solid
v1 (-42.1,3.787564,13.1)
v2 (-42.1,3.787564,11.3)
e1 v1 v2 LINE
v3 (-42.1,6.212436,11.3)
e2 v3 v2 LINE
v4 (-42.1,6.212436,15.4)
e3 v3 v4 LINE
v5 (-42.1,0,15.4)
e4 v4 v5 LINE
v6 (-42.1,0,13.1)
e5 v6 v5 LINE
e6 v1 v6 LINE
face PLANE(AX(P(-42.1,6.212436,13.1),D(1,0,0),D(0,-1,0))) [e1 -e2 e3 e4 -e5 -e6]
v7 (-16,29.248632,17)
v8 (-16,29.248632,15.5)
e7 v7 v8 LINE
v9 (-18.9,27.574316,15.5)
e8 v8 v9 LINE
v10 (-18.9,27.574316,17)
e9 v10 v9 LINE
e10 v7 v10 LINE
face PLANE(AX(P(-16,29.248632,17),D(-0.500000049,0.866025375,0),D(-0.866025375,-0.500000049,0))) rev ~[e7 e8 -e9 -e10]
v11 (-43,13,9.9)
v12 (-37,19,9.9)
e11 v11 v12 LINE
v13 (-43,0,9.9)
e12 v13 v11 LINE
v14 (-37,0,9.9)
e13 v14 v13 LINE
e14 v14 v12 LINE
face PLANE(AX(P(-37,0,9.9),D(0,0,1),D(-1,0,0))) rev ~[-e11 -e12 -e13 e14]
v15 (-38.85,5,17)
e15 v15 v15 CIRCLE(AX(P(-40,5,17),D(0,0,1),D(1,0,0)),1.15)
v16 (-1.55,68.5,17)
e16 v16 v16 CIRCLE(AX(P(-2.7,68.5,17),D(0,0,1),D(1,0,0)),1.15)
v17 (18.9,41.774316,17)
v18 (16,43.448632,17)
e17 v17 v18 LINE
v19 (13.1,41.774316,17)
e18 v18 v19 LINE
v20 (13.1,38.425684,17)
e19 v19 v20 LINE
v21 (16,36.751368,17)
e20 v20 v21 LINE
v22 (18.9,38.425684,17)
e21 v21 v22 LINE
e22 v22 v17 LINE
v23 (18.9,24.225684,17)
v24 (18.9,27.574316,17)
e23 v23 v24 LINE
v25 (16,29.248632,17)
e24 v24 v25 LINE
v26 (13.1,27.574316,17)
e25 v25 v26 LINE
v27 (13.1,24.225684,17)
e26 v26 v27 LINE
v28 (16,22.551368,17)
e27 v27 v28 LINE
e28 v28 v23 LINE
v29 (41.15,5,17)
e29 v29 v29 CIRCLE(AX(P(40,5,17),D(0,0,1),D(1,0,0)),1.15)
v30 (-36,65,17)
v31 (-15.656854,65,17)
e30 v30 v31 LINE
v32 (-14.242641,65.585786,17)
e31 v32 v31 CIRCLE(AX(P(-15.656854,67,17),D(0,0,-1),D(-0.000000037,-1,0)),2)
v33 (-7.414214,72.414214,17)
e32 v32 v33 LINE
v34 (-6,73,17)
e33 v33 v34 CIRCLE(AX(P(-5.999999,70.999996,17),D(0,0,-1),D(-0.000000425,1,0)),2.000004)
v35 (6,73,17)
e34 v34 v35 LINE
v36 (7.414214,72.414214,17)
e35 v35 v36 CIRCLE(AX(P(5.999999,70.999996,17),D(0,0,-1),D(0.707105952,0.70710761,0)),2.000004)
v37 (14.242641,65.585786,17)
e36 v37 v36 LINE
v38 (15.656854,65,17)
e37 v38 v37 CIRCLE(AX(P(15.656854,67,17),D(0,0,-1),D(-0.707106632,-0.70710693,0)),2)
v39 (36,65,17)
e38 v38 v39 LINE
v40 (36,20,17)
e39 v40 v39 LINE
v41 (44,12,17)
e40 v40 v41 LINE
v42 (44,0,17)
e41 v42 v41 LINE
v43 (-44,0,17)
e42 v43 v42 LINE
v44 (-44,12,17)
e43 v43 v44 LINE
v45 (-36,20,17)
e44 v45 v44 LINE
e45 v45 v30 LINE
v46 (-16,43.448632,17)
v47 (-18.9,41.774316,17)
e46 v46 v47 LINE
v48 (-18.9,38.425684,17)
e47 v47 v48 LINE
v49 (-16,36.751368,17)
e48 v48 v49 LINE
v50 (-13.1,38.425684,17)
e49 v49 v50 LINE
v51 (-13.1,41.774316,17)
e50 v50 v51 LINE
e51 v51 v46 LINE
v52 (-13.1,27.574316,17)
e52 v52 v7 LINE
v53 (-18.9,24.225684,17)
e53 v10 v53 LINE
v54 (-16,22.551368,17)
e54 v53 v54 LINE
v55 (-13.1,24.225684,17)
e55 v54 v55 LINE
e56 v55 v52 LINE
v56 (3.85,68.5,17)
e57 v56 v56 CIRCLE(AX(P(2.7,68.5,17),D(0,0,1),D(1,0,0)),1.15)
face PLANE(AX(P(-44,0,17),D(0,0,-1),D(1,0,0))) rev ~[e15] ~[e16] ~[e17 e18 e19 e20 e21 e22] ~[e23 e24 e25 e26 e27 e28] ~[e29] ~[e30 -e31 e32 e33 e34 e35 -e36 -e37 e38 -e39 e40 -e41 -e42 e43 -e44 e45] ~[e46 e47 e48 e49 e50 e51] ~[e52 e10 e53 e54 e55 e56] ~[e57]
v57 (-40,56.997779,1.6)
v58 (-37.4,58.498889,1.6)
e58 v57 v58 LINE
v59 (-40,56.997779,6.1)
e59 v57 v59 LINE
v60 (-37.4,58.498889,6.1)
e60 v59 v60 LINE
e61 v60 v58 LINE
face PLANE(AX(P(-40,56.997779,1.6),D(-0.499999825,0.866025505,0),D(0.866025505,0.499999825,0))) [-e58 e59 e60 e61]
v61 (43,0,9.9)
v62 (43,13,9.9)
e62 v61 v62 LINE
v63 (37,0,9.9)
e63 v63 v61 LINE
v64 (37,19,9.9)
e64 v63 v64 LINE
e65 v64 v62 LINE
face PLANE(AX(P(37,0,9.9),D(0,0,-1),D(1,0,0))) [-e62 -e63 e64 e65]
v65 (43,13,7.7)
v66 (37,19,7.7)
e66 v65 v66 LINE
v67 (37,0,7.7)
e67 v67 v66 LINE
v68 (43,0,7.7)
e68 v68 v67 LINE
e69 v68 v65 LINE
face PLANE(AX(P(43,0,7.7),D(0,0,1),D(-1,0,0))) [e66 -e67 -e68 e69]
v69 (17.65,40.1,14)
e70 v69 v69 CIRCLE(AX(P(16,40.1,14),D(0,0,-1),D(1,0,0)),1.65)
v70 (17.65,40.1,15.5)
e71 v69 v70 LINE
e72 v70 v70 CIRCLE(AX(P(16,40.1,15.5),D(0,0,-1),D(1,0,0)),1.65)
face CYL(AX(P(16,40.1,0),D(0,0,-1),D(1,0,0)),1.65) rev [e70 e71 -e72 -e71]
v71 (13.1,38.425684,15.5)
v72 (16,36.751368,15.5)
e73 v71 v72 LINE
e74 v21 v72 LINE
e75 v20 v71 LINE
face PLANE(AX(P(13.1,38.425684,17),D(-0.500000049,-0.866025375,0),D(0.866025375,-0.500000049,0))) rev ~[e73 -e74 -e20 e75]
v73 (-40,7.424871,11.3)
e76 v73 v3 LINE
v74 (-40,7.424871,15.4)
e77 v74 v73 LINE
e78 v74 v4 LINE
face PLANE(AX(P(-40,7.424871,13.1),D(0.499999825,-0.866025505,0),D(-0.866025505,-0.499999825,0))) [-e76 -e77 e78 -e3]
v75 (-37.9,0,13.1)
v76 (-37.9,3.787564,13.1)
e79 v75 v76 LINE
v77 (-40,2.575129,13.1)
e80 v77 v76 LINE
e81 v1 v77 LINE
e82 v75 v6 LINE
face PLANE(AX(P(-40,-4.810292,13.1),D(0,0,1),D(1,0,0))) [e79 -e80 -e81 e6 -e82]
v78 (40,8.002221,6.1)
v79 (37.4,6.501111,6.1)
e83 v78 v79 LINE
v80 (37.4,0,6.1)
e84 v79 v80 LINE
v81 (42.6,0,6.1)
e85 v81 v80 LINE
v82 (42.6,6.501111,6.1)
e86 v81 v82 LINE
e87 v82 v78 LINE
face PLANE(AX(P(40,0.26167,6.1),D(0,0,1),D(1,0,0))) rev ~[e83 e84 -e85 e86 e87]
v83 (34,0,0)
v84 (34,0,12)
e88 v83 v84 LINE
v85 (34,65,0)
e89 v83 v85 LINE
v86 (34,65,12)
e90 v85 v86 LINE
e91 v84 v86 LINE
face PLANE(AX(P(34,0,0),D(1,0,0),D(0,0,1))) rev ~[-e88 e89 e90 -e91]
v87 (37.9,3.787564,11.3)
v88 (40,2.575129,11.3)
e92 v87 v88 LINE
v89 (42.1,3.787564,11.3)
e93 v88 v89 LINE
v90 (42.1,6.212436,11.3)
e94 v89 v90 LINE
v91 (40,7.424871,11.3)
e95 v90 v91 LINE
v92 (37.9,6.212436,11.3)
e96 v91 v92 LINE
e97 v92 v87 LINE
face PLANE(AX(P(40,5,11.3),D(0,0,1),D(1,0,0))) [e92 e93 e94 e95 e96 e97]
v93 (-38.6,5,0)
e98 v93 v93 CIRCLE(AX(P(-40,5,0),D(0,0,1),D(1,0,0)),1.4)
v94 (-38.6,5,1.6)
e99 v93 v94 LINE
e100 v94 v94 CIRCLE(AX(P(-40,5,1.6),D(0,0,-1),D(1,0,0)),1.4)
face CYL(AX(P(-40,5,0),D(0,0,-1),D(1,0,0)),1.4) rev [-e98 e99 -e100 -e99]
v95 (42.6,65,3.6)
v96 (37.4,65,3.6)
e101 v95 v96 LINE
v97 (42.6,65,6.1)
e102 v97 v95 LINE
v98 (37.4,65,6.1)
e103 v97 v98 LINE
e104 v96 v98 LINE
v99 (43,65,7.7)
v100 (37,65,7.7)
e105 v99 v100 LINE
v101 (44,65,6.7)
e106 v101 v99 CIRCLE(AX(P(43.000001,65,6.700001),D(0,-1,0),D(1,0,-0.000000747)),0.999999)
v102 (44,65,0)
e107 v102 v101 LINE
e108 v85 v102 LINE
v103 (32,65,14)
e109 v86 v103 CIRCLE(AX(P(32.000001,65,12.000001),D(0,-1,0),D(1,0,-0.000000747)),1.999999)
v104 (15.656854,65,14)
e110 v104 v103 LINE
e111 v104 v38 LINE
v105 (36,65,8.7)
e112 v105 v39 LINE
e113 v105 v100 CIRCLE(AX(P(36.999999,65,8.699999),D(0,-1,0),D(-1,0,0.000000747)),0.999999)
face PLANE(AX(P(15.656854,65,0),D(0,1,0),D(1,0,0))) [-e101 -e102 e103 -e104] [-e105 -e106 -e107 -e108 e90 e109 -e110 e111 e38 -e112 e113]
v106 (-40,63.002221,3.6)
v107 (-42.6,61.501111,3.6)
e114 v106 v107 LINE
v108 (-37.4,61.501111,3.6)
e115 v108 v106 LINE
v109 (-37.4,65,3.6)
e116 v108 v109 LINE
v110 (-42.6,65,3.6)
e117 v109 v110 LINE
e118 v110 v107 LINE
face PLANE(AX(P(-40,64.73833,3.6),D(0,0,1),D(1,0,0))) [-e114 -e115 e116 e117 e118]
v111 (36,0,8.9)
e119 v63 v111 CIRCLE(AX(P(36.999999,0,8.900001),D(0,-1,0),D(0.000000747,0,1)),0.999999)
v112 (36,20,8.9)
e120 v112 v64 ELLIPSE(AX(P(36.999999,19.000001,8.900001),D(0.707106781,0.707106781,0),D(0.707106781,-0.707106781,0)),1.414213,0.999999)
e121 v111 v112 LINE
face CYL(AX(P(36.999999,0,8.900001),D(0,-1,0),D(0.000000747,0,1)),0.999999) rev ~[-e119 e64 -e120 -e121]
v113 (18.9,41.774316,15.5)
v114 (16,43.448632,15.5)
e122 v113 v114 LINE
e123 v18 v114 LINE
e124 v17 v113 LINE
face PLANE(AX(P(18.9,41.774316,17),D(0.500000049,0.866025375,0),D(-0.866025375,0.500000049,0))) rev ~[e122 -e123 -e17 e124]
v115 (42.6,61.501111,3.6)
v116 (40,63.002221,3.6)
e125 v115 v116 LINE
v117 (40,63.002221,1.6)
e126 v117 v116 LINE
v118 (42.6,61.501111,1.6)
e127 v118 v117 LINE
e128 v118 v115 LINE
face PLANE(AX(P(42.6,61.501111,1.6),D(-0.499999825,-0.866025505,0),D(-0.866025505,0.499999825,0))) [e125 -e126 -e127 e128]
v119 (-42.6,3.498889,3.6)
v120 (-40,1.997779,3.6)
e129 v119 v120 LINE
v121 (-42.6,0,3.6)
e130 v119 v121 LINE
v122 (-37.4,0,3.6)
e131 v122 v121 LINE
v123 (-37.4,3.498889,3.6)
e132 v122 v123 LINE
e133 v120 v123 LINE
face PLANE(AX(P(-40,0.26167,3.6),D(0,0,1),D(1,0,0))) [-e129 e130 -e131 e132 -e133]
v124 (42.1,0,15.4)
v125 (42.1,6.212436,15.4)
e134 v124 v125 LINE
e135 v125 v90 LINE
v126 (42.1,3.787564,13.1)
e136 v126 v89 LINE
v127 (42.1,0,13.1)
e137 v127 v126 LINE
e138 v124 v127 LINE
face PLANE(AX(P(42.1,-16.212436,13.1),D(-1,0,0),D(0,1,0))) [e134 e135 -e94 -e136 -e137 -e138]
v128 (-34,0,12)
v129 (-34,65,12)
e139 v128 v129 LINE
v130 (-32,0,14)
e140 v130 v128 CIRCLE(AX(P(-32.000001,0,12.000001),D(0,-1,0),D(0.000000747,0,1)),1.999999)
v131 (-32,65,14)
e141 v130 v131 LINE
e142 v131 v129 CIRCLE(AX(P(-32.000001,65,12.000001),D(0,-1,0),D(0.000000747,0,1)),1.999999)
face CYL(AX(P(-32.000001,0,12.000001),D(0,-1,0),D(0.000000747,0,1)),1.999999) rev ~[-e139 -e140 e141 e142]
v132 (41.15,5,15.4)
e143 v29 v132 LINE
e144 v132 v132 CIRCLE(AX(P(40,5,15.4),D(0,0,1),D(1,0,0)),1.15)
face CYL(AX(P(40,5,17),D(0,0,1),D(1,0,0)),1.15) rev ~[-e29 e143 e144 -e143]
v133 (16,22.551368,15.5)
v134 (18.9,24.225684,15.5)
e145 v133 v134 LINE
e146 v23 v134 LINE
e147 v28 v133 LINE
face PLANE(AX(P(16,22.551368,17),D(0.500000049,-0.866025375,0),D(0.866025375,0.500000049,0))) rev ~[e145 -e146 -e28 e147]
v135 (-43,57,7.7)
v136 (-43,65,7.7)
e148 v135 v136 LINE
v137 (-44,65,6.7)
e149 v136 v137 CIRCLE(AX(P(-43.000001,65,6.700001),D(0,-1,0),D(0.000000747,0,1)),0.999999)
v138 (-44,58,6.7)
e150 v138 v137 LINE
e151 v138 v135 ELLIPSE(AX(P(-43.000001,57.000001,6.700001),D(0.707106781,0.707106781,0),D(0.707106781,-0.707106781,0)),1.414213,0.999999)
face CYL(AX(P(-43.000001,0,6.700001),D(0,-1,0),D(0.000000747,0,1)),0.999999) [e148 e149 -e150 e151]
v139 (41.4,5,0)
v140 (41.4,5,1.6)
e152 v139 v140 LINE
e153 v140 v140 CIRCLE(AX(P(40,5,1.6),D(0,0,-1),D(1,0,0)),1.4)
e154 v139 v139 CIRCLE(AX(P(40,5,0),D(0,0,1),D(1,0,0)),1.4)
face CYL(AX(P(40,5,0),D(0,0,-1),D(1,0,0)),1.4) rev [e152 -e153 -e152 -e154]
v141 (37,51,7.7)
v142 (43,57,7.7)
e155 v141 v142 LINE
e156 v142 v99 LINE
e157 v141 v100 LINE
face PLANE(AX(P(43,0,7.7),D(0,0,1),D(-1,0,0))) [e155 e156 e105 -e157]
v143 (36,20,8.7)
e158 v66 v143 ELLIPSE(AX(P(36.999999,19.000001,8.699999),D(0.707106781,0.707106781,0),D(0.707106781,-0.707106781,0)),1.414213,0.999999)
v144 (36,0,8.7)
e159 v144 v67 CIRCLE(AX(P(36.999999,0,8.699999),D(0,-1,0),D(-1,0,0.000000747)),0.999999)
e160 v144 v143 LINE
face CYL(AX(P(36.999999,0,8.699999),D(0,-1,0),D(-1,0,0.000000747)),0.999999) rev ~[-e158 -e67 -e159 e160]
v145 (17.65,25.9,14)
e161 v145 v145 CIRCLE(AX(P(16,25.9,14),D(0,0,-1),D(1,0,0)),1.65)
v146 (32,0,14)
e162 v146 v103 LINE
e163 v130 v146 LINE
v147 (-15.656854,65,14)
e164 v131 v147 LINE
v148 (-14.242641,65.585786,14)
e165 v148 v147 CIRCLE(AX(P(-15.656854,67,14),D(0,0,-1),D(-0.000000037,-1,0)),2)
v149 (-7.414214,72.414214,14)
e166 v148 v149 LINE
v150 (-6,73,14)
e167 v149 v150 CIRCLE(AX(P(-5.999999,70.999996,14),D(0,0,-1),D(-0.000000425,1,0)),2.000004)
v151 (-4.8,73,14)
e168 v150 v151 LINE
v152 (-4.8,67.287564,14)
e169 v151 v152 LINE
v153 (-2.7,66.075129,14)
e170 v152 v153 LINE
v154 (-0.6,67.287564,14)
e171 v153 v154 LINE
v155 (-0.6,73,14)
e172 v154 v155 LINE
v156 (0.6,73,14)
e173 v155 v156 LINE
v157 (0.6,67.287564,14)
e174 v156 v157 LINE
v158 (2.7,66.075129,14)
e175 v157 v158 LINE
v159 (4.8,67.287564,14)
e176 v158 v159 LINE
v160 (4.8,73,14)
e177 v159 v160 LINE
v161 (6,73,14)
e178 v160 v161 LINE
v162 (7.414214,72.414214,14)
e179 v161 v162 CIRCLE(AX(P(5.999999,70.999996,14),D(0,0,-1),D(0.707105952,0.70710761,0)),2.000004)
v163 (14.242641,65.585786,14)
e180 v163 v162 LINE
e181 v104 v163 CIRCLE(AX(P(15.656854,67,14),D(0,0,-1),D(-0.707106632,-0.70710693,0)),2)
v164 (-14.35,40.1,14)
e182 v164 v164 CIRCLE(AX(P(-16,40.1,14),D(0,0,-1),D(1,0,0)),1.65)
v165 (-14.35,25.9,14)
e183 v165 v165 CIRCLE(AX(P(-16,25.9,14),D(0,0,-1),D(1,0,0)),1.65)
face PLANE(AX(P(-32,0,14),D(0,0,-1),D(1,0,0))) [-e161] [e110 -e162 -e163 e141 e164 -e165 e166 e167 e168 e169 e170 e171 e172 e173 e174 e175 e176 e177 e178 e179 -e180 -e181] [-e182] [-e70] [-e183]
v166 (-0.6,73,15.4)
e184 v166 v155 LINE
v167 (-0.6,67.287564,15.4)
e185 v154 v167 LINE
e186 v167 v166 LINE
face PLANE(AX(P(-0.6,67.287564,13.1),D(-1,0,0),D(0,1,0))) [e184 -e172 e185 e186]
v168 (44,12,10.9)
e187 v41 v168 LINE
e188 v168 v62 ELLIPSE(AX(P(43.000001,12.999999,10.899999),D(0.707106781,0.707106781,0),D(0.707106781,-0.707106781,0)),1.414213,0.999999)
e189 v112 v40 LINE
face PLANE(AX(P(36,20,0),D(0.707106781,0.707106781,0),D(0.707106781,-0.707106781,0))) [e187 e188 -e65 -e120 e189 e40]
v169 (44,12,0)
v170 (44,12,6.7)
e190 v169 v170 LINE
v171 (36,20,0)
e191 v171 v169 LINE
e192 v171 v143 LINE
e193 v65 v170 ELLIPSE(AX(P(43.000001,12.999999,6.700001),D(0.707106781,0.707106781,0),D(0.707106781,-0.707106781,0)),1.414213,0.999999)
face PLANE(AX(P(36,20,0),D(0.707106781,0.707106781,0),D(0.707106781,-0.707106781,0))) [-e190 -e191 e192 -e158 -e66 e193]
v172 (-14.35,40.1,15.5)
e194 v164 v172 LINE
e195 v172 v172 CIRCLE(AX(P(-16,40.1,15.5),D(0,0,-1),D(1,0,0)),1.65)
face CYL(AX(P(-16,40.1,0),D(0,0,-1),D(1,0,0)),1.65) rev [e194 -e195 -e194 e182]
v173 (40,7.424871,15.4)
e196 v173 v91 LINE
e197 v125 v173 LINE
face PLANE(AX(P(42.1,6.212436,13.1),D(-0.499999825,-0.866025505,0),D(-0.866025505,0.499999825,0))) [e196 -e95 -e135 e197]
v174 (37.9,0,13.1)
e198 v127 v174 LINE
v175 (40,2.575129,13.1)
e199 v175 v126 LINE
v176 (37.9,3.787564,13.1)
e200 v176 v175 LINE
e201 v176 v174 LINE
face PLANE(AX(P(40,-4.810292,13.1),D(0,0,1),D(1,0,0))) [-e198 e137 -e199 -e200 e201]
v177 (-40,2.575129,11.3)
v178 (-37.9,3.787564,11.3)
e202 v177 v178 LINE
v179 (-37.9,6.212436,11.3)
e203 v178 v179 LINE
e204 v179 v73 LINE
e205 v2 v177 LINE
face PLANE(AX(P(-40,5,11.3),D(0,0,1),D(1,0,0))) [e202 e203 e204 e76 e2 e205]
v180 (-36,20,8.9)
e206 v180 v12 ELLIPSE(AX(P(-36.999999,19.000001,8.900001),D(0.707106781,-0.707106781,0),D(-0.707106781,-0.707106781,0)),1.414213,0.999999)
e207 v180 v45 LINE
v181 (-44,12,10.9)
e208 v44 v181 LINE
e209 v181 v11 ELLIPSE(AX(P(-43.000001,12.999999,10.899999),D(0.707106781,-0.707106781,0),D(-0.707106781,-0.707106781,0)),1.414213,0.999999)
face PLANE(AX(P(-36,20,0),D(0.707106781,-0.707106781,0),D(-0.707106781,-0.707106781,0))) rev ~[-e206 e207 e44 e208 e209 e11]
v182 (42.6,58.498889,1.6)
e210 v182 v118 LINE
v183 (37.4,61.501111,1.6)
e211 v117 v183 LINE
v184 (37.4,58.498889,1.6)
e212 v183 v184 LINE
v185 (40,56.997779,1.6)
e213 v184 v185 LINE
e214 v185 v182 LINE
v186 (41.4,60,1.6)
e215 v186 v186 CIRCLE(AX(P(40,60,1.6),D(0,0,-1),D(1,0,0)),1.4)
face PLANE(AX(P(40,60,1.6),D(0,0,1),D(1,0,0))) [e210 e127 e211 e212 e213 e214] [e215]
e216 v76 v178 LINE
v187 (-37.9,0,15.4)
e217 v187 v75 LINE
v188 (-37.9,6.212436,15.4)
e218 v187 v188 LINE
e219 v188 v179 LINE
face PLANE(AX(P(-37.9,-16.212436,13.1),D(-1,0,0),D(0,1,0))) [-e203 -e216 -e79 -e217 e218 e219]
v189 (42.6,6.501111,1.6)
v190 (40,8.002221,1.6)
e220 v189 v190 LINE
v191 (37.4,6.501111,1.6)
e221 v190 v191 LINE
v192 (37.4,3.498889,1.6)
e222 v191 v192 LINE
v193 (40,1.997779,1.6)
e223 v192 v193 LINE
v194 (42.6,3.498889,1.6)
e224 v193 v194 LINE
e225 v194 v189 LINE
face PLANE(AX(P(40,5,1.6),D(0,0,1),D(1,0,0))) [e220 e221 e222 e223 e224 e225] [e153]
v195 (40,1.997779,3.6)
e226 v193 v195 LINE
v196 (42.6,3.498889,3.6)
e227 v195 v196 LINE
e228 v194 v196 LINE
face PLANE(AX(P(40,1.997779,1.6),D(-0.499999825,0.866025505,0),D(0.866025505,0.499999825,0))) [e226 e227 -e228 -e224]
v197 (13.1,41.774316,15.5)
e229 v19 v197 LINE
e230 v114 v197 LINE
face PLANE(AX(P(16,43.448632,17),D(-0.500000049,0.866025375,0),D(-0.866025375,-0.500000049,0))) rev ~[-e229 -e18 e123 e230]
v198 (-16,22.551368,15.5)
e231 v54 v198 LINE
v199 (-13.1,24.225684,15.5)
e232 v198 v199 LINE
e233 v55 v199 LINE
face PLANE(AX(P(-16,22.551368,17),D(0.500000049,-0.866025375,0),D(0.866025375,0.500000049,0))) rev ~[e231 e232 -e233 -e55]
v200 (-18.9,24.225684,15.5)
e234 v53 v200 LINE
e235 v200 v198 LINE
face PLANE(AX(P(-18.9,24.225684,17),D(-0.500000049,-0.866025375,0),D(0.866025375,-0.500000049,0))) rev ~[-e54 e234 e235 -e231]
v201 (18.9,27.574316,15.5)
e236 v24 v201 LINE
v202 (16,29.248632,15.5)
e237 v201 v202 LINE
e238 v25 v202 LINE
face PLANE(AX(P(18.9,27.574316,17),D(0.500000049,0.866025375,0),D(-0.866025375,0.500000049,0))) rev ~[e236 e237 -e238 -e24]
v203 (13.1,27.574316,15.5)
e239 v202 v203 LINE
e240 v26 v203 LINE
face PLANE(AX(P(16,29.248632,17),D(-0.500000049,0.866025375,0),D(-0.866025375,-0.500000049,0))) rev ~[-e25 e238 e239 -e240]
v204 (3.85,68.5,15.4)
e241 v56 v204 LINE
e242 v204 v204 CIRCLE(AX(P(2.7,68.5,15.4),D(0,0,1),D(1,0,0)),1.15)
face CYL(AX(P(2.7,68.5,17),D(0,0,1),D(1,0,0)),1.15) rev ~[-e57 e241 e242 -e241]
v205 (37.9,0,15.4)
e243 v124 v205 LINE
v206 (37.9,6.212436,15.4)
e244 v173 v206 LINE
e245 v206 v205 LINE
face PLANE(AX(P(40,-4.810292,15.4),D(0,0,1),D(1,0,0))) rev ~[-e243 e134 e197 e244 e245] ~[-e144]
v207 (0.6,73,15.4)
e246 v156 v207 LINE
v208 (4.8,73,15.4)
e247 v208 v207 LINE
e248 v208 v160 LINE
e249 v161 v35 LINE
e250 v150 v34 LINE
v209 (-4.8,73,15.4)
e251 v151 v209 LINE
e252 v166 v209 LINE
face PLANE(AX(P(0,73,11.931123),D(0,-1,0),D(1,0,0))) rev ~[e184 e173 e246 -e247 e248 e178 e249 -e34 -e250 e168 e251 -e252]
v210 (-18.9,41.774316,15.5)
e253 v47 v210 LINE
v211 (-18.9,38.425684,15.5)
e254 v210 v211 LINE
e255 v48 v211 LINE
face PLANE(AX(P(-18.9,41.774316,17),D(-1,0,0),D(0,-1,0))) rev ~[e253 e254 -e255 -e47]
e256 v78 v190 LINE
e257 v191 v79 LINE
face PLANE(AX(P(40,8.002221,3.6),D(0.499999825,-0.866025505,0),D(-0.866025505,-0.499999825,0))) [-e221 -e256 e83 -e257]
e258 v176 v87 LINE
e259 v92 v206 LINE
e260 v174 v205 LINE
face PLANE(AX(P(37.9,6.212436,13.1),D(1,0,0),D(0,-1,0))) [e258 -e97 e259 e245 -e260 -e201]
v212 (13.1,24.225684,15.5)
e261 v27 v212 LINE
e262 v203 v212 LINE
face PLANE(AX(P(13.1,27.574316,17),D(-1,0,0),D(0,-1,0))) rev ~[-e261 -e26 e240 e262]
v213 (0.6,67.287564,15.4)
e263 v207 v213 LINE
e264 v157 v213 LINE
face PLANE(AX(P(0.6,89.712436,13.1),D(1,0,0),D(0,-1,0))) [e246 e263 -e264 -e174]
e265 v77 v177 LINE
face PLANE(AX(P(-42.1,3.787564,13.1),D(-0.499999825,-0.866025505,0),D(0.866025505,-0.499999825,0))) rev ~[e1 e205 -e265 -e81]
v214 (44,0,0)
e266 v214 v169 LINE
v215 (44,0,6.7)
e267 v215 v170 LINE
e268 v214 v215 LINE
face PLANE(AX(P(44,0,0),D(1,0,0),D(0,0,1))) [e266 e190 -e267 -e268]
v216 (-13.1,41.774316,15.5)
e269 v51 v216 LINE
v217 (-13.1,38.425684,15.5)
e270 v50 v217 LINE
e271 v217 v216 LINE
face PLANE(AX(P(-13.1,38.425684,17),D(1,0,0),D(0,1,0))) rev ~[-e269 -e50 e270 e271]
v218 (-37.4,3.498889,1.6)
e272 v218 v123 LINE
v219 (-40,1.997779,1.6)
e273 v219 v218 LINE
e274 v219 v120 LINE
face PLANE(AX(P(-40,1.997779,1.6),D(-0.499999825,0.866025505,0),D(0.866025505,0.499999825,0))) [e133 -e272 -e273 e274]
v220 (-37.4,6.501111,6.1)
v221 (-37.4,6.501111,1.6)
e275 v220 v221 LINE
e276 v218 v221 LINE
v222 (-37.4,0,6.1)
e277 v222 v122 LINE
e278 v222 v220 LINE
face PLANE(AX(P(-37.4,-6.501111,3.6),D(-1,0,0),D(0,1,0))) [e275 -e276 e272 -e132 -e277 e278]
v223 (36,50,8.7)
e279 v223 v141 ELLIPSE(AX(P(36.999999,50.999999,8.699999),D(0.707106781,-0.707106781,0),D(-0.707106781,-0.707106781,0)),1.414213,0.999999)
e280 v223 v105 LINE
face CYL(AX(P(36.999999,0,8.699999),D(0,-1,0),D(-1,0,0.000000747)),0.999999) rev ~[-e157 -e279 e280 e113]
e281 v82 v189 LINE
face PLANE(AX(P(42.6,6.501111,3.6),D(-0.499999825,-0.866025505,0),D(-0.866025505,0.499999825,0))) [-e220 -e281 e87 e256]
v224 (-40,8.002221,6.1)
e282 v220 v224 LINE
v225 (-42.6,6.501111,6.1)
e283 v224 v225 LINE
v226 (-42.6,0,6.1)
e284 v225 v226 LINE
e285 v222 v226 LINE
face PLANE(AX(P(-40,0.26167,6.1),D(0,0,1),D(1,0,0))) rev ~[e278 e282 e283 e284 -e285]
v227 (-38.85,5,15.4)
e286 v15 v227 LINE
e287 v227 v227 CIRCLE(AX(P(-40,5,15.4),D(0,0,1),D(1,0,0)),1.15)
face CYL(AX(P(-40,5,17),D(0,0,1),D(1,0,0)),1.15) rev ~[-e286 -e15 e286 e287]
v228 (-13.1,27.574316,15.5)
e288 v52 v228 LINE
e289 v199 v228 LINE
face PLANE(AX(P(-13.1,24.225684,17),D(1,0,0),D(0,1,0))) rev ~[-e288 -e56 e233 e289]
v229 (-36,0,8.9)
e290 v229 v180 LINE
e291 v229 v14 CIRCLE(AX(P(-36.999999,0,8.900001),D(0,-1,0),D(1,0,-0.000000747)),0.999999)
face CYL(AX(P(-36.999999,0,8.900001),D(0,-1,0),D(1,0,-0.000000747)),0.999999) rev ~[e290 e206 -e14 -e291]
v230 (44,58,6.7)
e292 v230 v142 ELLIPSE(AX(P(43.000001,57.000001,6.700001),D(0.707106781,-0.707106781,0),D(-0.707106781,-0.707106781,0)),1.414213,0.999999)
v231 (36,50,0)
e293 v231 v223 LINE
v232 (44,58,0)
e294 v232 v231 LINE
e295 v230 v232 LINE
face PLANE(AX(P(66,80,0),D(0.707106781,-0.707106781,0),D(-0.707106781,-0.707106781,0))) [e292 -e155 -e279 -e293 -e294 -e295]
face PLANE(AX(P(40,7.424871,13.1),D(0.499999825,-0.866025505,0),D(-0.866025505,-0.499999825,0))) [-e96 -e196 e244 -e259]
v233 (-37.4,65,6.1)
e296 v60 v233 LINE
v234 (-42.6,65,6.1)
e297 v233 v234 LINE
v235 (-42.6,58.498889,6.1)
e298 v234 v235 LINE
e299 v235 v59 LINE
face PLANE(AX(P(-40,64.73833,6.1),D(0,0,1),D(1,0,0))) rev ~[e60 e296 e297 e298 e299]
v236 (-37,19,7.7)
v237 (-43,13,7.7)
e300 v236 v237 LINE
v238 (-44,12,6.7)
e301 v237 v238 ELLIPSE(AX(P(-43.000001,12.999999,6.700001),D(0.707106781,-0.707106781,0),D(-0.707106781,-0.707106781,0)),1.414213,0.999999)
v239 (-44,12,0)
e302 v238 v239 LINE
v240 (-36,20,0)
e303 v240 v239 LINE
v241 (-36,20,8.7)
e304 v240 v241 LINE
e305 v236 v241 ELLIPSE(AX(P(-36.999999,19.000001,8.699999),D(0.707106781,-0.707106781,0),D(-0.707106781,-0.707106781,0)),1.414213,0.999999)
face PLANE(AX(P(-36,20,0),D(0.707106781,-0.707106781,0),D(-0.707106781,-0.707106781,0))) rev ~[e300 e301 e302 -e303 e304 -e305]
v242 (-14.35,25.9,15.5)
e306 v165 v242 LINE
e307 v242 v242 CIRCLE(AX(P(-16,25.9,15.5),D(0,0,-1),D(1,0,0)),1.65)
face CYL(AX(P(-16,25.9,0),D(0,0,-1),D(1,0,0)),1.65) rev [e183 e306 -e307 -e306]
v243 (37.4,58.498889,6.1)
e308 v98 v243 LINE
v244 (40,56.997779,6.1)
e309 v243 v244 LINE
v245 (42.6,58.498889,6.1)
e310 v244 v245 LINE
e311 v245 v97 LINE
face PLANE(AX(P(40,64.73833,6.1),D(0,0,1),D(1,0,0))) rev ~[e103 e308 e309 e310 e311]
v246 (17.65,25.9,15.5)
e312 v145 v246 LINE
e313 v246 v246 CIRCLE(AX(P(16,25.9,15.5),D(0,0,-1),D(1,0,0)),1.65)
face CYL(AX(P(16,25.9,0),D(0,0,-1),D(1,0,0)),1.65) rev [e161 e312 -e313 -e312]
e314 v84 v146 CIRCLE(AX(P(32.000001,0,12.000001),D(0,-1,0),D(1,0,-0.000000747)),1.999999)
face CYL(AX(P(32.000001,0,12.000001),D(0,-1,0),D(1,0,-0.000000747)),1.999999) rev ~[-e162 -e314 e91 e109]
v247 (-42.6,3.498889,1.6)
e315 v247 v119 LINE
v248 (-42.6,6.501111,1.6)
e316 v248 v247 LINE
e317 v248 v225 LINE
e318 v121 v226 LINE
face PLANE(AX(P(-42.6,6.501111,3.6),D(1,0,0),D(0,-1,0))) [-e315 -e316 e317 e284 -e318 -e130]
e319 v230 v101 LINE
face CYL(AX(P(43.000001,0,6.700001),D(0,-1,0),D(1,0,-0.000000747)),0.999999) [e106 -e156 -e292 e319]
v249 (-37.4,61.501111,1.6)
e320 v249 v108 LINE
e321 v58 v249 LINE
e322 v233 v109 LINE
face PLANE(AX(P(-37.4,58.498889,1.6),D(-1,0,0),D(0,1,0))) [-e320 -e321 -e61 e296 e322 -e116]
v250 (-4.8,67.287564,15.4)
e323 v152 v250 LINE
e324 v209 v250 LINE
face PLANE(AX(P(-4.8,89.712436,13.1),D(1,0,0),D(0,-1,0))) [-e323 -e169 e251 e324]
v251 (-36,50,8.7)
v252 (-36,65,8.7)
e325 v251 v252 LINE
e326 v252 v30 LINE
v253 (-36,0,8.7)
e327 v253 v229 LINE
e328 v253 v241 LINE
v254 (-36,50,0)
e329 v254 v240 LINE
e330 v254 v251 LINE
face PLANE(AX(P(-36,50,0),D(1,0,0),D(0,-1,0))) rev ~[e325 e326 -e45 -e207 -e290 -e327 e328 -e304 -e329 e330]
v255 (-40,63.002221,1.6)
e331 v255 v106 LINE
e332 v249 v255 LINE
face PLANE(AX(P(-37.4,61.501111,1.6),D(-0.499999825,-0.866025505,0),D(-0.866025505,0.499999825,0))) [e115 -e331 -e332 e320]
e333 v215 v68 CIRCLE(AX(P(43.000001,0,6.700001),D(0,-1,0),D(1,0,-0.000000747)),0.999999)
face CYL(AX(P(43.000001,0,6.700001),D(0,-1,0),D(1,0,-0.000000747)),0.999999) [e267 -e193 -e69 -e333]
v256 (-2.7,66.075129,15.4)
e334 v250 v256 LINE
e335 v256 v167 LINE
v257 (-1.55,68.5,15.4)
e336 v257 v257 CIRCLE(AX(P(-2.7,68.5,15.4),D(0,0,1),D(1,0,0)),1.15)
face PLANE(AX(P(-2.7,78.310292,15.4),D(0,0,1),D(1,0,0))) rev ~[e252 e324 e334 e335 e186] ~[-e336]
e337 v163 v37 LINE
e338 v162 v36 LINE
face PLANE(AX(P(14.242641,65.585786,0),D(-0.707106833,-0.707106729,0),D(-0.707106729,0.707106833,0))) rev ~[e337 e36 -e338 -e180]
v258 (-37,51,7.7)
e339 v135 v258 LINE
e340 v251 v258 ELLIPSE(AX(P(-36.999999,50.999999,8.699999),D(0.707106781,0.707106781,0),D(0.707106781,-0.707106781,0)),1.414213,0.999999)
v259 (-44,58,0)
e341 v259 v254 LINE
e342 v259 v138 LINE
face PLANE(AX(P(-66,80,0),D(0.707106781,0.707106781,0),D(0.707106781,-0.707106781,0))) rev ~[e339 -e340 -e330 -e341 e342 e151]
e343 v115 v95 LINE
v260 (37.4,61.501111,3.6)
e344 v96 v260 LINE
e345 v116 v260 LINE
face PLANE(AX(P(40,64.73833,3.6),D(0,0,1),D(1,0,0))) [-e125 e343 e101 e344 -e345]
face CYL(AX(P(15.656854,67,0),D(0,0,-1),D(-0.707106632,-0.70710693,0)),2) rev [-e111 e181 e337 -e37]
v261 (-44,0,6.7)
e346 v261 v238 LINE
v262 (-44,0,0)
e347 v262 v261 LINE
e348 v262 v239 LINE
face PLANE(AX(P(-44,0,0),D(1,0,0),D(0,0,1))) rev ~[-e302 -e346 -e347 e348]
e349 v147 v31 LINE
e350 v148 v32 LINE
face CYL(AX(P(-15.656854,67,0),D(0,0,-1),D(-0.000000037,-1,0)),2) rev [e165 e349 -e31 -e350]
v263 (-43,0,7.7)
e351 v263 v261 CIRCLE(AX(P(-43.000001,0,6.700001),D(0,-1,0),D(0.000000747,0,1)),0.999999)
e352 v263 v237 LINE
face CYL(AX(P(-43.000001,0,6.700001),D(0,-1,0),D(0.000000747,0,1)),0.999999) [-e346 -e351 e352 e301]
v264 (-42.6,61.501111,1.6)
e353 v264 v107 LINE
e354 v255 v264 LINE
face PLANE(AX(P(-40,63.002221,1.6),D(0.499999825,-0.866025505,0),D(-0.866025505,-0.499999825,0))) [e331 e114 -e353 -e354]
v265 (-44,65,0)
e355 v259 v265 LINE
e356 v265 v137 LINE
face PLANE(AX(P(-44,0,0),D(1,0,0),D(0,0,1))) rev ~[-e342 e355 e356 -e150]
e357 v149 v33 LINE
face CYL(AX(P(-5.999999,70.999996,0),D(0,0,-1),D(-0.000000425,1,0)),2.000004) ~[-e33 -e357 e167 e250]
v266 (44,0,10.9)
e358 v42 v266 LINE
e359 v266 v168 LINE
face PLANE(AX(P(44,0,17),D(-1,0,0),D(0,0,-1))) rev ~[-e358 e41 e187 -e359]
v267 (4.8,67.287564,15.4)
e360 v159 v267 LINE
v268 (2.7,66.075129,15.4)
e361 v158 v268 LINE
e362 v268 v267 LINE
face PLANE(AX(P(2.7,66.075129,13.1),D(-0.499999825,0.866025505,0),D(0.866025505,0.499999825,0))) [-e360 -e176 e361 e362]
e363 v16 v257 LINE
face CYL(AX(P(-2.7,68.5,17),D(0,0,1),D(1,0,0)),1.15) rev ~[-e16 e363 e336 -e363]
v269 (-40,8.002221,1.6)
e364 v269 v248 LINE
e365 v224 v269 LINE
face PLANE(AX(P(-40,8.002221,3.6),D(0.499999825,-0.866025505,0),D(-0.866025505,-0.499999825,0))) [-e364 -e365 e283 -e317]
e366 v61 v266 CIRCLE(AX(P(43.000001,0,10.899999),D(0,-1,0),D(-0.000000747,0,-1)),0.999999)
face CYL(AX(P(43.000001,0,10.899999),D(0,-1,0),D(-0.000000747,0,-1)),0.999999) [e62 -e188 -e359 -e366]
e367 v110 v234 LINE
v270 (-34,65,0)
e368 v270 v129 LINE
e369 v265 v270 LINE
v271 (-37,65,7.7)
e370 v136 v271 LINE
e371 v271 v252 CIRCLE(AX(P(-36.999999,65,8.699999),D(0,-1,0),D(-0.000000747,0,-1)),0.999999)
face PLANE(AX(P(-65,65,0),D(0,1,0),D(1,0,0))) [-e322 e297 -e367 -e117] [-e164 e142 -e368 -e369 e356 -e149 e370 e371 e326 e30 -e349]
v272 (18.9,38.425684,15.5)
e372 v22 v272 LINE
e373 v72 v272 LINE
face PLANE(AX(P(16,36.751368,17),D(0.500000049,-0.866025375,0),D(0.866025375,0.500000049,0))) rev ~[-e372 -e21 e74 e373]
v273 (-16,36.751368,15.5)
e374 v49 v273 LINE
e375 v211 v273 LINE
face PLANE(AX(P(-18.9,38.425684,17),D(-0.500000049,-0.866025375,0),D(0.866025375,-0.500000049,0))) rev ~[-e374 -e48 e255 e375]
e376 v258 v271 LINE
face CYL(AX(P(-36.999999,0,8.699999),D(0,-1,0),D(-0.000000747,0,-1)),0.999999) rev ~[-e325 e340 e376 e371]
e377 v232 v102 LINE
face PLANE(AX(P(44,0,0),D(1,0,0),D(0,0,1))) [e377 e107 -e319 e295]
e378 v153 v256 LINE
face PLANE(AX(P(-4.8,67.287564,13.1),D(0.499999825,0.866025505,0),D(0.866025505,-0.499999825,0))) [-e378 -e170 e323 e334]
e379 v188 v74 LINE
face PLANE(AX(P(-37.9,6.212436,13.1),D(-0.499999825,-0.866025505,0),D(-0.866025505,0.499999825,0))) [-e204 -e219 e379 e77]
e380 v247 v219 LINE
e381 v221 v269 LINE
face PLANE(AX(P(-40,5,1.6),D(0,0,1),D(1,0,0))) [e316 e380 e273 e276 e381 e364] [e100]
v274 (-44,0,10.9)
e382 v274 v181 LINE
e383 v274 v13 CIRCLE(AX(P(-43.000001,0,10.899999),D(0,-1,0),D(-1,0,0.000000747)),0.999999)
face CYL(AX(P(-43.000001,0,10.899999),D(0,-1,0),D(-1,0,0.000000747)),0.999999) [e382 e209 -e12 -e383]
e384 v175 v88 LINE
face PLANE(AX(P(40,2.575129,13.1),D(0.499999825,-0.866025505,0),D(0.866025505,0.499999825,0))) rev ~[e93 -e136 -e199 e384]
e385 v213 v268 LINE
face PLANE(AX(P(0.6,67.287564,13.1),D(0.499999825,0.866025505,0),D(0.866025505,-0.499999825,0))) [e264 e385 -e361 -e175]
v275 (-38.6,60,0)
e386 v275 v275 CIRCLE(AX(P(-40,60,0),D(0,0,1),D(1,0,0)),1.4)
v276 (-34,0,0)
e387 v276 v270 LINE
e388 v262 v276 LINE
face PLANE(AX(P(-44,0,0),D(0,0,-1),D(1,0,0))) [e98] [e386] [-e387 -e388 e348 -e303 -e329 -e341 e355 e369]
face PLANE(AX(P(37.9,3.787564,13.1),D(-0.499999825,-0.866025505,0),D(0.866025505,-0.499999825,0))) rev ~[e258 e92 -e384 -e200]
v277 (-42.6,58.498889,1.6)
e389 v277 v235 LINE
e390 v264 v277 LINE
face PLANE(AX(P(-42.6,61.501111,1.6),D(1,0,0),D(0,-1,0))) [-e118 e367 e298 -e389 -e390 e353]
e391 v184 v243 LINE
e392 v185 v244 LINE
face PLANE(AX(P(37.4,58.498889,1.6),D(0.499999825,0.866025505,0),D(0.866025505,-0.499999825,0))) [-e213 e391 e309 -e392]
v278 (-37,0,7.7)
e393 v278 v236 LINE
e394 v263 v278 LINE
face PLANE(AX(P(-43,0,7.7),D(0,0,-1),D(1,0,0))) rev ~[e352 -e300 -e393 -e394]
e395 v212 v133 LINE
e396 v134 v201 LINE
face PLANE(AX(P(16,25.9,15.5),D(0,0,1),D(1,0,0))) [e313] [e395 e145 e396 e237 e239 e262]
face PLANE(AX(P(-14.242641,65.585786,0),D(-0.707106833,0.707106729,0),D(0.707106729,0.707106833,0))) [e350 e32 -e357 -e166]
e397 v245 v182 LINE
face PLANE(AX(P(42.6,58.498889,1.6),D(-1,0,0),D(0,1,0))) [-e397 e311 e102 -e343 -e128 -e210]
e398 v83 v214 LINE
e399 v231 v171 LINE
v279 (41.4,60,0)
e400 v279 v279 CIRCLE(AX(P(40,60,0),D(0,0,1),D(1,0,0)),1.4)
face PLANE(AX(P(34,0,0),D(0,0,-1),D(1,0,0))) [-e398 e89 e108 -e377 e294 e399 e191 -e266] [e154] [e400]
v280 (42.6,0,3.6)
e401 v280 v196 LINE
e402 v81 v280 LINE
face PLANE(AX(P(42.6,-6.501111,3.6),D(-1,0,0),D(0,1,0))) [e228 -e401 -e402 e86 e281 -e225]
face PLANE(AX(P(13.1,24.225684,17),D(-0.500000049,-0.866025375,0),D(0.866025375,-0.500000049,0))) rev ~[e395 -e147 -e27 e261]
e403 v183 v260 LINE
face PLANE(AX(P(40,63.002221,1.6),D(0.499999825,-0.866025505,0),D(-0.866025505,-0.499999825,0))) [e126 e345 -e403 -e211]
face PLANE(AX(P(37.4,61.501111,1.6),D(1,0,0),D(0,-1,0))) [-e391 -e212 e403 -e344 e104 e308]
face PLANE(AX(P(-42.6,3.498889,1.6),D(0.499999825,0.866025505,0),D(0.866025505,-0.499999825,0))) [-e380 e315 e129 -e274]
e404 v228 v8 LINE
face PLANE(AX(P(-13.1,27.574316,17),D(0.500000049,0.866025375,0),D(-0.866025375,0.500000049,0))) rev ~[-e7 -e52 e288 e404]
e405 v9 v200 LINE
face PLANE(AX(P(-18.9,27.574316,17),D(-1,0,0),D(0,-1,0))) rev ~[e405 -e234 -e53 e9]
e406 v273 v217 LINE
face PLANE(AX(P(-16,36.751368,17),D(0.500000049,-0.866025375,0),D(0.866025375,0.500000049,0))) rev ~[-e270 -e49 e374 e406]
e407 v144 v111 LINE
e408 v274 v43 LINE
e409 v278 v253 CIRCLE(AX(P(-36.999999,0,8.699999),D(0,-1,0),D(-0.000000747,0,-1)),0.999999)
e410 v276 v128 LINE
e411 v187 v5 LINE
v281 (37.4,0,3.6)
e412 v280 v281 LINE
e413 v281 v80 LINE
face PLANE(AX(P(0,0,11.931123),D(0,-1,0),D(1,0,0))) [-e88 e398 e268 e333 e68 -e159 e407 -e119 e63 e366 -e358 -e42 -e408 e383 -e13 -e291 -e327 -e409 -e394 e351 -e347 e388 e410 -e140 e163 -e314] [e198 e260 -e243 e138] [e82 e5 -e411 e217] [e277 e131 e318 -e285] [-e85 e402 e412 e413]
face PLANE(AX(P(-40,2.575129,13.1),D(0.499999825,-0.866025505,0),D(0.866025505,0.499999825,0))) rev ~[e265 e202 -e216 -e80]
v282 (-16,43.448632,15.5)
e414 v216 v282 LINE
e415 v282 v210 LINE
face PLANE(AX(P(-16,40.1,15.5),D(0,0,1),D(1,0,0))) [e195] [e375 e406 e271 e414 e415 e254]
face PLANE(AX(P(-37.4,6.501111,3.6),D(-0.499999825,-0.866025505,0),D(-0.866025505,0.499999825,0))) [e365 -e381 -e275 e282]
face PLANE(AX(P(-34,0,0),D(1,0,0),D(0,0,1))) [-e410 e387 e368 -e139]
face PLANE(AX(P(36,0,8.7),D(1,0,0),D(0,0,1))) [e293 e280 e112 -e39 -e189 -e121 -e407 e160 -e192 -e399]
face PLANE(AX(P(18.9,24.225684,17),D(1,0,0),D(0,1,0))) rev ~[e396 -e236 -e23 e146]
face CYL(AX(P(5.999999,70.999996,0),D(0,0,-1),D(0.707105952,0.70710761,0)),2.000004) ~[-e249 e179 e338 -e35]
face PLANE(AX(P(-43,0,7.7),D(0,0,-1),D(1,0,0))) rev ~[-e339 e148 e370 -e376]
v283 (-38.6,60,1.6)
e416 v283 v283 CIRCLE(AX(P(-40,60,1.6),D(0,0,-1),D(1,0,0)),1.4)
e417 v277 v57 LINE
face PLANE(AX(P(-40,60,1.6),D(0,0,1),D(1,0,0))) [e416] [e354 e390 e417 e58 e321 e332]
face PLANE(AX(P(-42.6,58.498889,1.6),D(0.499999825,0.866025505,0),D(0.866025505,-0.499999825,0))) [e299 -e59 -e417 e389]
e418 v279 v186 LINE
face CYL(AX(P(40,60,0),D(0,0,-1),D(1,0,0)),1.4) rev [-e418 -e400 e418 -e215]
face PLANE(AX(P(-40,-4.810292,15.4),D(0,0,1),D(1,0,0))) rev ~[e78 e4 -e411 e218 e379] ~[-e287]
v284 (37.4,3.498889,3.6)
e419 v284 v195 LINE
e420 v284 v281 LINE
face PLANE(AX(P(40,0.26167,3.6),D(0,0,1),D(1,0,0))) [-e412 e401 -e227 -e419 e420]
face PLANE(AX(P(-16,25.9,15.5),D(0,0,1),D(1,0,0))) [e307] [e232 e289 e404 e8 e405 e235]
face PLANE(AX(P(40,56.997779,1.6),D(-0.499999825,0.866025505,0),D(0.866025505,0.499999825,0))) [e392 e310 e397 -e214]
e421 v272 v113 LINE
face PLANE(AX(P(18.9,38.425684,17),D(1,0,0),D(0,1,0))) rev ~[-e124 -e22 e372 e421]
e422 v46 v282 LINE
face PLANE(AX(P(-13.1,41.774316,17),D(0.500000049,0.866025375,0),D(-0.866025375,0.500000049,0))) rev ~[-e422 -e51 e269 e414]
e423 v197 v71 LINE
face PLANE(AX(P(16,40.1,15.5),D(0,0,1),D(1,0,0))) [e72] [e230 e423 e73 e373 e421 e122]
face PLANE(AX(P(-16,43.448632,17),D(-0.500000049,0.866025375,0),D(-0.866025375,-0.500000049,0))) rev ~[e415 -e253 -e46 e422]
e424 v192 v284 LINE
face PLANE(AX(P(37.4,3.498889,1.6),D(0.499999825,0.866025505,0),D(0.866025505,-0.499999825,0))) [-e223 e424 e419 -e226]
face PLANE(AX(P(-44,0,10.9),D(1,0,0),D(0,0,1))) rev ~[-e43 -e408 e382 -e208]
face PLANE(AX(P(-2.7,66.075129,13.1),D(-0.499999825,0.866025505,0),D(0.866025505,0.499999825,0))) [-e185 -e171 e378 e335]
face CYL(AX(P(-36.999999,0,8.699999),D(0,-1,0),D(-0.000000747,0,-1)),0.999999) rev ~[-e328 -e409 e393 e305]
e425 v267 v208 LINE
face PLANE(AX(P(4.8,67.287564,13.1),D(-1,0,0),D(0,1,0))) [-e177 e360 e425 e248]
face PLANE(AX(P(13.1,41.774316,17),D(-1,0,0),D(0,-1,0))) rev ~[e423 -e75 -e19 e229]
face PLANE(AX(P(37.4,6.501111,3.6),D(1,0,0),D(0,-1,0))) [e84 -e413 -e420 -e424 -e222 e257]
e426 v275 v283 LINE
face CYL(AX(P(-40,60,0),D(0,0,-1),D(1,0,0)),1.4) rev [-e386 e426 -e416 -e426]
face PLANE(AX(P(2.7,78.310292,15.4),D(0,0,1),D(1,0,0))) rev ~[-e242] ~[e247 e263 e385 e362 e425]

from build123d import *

# Parameters (mm, degrees)
PAD_DEPTH       = 73
POCKET_DEPTH    = 17.001
SKETCH006_R     = 1.4
POCKET001_DEPTH = 5.7
POCKET002_DEPTH = 2.5
POCKET003_DEPTH = 2
SKETCH007_R     = 1.65
POCKET004_DEPTH = 17.001
POCKET007_DEPTH = 1.5
SKETCH021_R     = 1.15
POCKET012_DEPTH = 5.7
POCKET014_DEPTH = 1.8
POCKET015_DEPTH = 2.3
POCKET017_DEPTH = 17.001
SKETCH028_W     = 44
SKETCH028_H     = 65
POCKET018_DEPTH = 8.2


with BuildPart() as part:
    # Sketch → Pad (new body)
    with BuildSketch(Plane.XZ):
        with BuildLine():
            Line((-44, 0), (-34, 0))
            Line((-34, 0), (-34, 12))
            ThreePointArc((-32, 14), (-33.414214, 13.414214), (-34, 12))
            Line((-32, 14), (32, 14))
            ThreePointArc((34, 12), (33.414214, 13.414214), (32, 14))
            Line((34, 0), (34, 12))
            Line((34, 0), (44, 0))
            Line((44, 0), (44, 6.7))
            ThreePointArc((44, 6.7), (43.707107, 7.407107), (43, 7.7))
            Line((43, 7.7), (37, 7.7))
            ThreePointArc((36, 8.7), (36.292893, 7.992893), (37, 7.7))
            Line((36, 8.7), (36, 8.9))
            ThreePointArc((37, 9.9), (36.292893, 9.607107), (36, 8.9))
            Line((37, 9.9), (43, 9.9))
            ThreePointArc((43, 9.9), (43.707107, 10.192893), (44, 10.9))
            Line((44, 17), (44, 10.9))
            Line((-44, 17), (44, 17))
            Line((-44, 10.9), (-44, 17))
            ThreePointArc((-44, 10.9), (-43.707107, 10.192893), (-43, 9.9))
            Line((-37, 9.9), (-43, 9.9))
            ThreePointArc((-36, 8.9), (-36.292893, 9.607107), (-37, 9.9))
            Line((-36, 8.7), (-36, 8.9))
            ThreePointArc((-37, 7.7), (-36.292893, 7.992893), (-36, 8.7))
            Line((-43, 7.7), (-37, 7.7))
            ThreePointArc((-43, 7.7), (-43.707107, 7.407107), (-44, 6.7))
            Line((-44, 0), (-44, 6.7))
        make_face()
    extrude(amount=-PAD_DEPTH)

    # Sketch001 → Pocket (cut, through all)
    with BuildSketch(Plane.XY):
        Polygon((-66, 80), (-36, 50), (-36, 20), (-66, -10), align=None)
        Polygon((36, 20), (66, -10), (66, 80), (36, 50), align=None)
    extrude(amount=POCKET_DEPTH, mode=Mode.SUBTRACT)

    # Sketch006 → Pocket001 (cut)
    with BuildSketch(Plane.XY):
        with Locations((-40, 60)):
            Circle(SKETCH006_R)
        with Locations((40, 60)):
            Circle(SKETCH006_R)
        with Locations((40, 5)):
            Circle(SKETCH006_R)
        with Locations((-40, 5)):
            Circle(SKETCH006_R)
    extrude(amount=POCKET001_DEPTH, mode=Mode.SUBTRACT)

    # Sketch005 (on DatumPlane) → Pocket002 (cut)
    with BuildSketch(Plane.XY.offset(3.6)):
        Polygon((-37.4, 3.498889), (-37.4, 6.501111), (-40, 8.002221), (-42.6, 6.501111), (-42.6, 3.498889), (-42.6, -6.501111), (-37.4, -6.501111), align=None)
        Polygon((42.6, 3.498889), (42.6, 6.501111), (40, 8.002221), (37.4, 6.501111), (37.4, 3.498889), (37.4, -6.501111), (42.6, -6.501111), align=None)
        Polygon((-40, 56.997779), (-37.4, 58.498889), (-37.4, 61.501111), (-37.4, 71.501111), (-42.6, 71.501111), (-42.6, 61.501111), (-42.6, 58.498889), align=None)
        Polygon((37.4, 58.498889), (40, 56.997779), (42.6, 58.498889), (42.6, 61.501111), (42.6, 71.501111), (37.4, 71.501111), (37.4, 61.501111), align=None)
    extrude(amount=POCKET002_DEPTH, mode=Mode.SUBTRACT)

    # Sketch004 (on DatumPlane) → Pocket003 (cut)
    with BuildSketch(Plane.XY.offset(1.6)):
        Polygon((-40, 1.997779), (-37.4, 3.498889), (-37.4, 6.501111), (-40, 8.002221), (-42.6, 6.501111), (-42.6, 3.498889), align=None)
        Polygon((40, 1.997779), (42.6, 3.498889), (42.6, 6.501111), (40, 8.002221), (37.4, 6.501111), (37.4, 3.498889), align=None)
        Polygon((40, 56.997779), (42.6, 58.498889), (42.6, 61.501111), (40, 63.002221), (37.4, 61.501111), (37.4, 58.498889), align=None)
        Polygon((-40, 56.997779), (-37.4, 58.498889), (-37.4, 61.501111), (-40, 63.002221), (-42.6, 61.501111), (-42.6, 58.498889), align=None)
    extrude(amount=POCKET003_DEPTH, mode=Mode.SUBTRACT)

    # Sketch007 → Pocket004 (cut, through all)
    with BuildSketch(Plane.XY):
        with Locations((-16, 40.1)):
            Circle(SKETCH007_R)
        with Locations((-16, 25.9)):
            Circle(SKETCH007_R)
        with Locations((16, 40.1)):
            Circle(SKETCH007_R)
        with Locations((16, 25.9)):
            Circle(SKETCH007_R)
    extrude(amount=POCKET004_DEPTH, mode=Mode.SUBTRACT)

    # Sketch008 (on DatumPlane) → Pocket007 (cut)
    with BuildSketch(Plane.XY.offset(17)):
        Polygon((-18.9, 41.774316), (-18.9, 38.425684), (-16, 36.751368), (-13.1, 38.425684), (-13.1, 41.774316), (-16, 43.448632), align=None)
        Polygon((13.1, 41.774316), (13.1, 38.425684), (16, 36.751368), (18.9, 38.425684), (18.9, 41.774316), (16, 43.448632), align=None)
        Polygon((-18.9, 27.574316), (-18.9, 24.225684), (-16, 22.551368), (-13.1, 24.225684), (-13.1, 27.574316), (-16, 29.248632), align=None)
        Polygon((13.1, 27.574316), (13.1, 24.225684), (16, 22.551368), (18.9, 24.225684), (18.9, 27.574316), (16, 29.248632), align=None)
    extrude(amount=-POCKET007_DEPTH, mode=Mode.SUBTRACT)

    # Sketch021 (on DatumPlane) → Pocket012 (cut)
    with BuildSketch(Plane.XY.offset(17)):
        with Locations((-2.7, 68.5)):
            Circle(SKETCH021_R)
        with Locations((2.7, 68.5)):
            Circle(SKETCH021_R)
        with Locations((-40, 5)):
            Circle(SKETCH021_R)
        with Locations((40, 5)):
            Circle(SKETCH021_R)
    extrude(amount=-POCKET012_DEPTH, mode=Mode.SUBTRACT)

    # Sketch024 (on DatumPlane) → Pocket014 (cut)
    with BuildSketch(Plane.XY.offset(13.1)):
        Polygon((0.6, 67.287564), (2.7, 66.075129), (4.8, 67.287564), (4.8, 69.712436), (2.7, 70.924871), (0.6, 69.712436), align=None)
        Polygon((40, 7.424871), (37.9, 6.212436), (37.9, 3.787564), (40, 2.575129), (42.1, 3.787564), (42.1, 6.212436), align=None)
        Polygon((-37.9, 6.212436), (-40, 7.424871), (-42.1, 6.212436), (-42.1, 3.787564), (-40, 2.575129), (-37.9, 3.787564), align=None)
        Polygon((-4.8, 67.287564), (-2.7, 66.075129), (-0.6, 67.287564), (-0.6, 69.712436), (-2.7, 70.924871), (-4.8, 69.712436), align=None)
    extrude(amount=-POCKET014_DEPTH, mode=Mode.SUBTRACT)

    # Sketch025 (on DatumPlane) → Pocket015 (cut)
    with BuildSketch(Plane.XY.offset(13.1)):
        Polygon((2.7, 66.075129), (4.8, 67.287564), (4.8, 69.712436), (4.8, 89.712436), (0.6, 89.712436), (0.6, 69.712436), (0.6, 67.287564), align=None)
        Polygon((40, 7.424871), (37.9, 6.212436), (37.9, 3.787564), (37.9, -16.212436), (42.1, -16.212436), (42.1, 3.787564), (42.1, 6.212436), align=None)
        Polygon((-40, 7.424871), (-42.1, 6.212436), (-42.1, 3.787564), (-42.1, -16.212436), (-37.9, -16.212436), (-37.9, 3.787564), (-37.9, 6.212436), align=None)
        Polygon((-2.7, 66.075129), (-0.6, 67.287564), (-0.6, 69.712436), (-0.6, 89.712436), (-4.8, 89.712436), (-4.8, 69.712436), (-4.8, 67.287564), align=None)
    extrude(amount=POCKET015_DEPTH, mode=Mode.SUBTRACT)

    # Sketch027 → Pocket017 (cut, through all)
    with BuildSketch(Plane.XY):
        with BuildLine():
            Line((-65, 65), (-15.656854, 65))
            ThreePointArc((-15.656854, 65), (-14.891487, 65.152241), (-14.242641, 65.585786))
            Line((-14.242641, 65.585786), (-7.414214, 72.414214))
            ThreePointArc((-6, 73), (-6.765367, 72.847759), (-7.414214, 72.414214))
            Line((-6, 73), (6, 73))
            ThreePointArc((7.414214, 72.414214), (6.765367, 72.847759), (6, 73))
            Line((14.242641, 65.585786), (7.414214, 72.414214))
            ThreePointArc((14.242641, 65.585786), (14.891487, 65.152241), (15.656854, 65))
            Line((15.656854, 65), (65, 65))
            Line((65, 65), (65, 97))
            Line((65, 97), (-65, 97))
            Line((-65, 65), (-65, 97))
        make_face()
    extrude(amount=POCKET017_DEPTH, mode=Mode.SUBTRACT)

    # Sketch028 (on DatumPlane) → Pocket018 (cut)
    with BuildSketch(Plane.XY.offset(17)):
        with Locations((-58, 65)):
            Rectangle(SKETCH028_W, SKETCH028_H)
        with Locations((58, 65)):
            Rectangle(SKETCH028_W, SKETCH028_H)
    extrude(amount=-POCKET018_DEPTH, mode=Mode.SUBTRACT)


solid = part.part
